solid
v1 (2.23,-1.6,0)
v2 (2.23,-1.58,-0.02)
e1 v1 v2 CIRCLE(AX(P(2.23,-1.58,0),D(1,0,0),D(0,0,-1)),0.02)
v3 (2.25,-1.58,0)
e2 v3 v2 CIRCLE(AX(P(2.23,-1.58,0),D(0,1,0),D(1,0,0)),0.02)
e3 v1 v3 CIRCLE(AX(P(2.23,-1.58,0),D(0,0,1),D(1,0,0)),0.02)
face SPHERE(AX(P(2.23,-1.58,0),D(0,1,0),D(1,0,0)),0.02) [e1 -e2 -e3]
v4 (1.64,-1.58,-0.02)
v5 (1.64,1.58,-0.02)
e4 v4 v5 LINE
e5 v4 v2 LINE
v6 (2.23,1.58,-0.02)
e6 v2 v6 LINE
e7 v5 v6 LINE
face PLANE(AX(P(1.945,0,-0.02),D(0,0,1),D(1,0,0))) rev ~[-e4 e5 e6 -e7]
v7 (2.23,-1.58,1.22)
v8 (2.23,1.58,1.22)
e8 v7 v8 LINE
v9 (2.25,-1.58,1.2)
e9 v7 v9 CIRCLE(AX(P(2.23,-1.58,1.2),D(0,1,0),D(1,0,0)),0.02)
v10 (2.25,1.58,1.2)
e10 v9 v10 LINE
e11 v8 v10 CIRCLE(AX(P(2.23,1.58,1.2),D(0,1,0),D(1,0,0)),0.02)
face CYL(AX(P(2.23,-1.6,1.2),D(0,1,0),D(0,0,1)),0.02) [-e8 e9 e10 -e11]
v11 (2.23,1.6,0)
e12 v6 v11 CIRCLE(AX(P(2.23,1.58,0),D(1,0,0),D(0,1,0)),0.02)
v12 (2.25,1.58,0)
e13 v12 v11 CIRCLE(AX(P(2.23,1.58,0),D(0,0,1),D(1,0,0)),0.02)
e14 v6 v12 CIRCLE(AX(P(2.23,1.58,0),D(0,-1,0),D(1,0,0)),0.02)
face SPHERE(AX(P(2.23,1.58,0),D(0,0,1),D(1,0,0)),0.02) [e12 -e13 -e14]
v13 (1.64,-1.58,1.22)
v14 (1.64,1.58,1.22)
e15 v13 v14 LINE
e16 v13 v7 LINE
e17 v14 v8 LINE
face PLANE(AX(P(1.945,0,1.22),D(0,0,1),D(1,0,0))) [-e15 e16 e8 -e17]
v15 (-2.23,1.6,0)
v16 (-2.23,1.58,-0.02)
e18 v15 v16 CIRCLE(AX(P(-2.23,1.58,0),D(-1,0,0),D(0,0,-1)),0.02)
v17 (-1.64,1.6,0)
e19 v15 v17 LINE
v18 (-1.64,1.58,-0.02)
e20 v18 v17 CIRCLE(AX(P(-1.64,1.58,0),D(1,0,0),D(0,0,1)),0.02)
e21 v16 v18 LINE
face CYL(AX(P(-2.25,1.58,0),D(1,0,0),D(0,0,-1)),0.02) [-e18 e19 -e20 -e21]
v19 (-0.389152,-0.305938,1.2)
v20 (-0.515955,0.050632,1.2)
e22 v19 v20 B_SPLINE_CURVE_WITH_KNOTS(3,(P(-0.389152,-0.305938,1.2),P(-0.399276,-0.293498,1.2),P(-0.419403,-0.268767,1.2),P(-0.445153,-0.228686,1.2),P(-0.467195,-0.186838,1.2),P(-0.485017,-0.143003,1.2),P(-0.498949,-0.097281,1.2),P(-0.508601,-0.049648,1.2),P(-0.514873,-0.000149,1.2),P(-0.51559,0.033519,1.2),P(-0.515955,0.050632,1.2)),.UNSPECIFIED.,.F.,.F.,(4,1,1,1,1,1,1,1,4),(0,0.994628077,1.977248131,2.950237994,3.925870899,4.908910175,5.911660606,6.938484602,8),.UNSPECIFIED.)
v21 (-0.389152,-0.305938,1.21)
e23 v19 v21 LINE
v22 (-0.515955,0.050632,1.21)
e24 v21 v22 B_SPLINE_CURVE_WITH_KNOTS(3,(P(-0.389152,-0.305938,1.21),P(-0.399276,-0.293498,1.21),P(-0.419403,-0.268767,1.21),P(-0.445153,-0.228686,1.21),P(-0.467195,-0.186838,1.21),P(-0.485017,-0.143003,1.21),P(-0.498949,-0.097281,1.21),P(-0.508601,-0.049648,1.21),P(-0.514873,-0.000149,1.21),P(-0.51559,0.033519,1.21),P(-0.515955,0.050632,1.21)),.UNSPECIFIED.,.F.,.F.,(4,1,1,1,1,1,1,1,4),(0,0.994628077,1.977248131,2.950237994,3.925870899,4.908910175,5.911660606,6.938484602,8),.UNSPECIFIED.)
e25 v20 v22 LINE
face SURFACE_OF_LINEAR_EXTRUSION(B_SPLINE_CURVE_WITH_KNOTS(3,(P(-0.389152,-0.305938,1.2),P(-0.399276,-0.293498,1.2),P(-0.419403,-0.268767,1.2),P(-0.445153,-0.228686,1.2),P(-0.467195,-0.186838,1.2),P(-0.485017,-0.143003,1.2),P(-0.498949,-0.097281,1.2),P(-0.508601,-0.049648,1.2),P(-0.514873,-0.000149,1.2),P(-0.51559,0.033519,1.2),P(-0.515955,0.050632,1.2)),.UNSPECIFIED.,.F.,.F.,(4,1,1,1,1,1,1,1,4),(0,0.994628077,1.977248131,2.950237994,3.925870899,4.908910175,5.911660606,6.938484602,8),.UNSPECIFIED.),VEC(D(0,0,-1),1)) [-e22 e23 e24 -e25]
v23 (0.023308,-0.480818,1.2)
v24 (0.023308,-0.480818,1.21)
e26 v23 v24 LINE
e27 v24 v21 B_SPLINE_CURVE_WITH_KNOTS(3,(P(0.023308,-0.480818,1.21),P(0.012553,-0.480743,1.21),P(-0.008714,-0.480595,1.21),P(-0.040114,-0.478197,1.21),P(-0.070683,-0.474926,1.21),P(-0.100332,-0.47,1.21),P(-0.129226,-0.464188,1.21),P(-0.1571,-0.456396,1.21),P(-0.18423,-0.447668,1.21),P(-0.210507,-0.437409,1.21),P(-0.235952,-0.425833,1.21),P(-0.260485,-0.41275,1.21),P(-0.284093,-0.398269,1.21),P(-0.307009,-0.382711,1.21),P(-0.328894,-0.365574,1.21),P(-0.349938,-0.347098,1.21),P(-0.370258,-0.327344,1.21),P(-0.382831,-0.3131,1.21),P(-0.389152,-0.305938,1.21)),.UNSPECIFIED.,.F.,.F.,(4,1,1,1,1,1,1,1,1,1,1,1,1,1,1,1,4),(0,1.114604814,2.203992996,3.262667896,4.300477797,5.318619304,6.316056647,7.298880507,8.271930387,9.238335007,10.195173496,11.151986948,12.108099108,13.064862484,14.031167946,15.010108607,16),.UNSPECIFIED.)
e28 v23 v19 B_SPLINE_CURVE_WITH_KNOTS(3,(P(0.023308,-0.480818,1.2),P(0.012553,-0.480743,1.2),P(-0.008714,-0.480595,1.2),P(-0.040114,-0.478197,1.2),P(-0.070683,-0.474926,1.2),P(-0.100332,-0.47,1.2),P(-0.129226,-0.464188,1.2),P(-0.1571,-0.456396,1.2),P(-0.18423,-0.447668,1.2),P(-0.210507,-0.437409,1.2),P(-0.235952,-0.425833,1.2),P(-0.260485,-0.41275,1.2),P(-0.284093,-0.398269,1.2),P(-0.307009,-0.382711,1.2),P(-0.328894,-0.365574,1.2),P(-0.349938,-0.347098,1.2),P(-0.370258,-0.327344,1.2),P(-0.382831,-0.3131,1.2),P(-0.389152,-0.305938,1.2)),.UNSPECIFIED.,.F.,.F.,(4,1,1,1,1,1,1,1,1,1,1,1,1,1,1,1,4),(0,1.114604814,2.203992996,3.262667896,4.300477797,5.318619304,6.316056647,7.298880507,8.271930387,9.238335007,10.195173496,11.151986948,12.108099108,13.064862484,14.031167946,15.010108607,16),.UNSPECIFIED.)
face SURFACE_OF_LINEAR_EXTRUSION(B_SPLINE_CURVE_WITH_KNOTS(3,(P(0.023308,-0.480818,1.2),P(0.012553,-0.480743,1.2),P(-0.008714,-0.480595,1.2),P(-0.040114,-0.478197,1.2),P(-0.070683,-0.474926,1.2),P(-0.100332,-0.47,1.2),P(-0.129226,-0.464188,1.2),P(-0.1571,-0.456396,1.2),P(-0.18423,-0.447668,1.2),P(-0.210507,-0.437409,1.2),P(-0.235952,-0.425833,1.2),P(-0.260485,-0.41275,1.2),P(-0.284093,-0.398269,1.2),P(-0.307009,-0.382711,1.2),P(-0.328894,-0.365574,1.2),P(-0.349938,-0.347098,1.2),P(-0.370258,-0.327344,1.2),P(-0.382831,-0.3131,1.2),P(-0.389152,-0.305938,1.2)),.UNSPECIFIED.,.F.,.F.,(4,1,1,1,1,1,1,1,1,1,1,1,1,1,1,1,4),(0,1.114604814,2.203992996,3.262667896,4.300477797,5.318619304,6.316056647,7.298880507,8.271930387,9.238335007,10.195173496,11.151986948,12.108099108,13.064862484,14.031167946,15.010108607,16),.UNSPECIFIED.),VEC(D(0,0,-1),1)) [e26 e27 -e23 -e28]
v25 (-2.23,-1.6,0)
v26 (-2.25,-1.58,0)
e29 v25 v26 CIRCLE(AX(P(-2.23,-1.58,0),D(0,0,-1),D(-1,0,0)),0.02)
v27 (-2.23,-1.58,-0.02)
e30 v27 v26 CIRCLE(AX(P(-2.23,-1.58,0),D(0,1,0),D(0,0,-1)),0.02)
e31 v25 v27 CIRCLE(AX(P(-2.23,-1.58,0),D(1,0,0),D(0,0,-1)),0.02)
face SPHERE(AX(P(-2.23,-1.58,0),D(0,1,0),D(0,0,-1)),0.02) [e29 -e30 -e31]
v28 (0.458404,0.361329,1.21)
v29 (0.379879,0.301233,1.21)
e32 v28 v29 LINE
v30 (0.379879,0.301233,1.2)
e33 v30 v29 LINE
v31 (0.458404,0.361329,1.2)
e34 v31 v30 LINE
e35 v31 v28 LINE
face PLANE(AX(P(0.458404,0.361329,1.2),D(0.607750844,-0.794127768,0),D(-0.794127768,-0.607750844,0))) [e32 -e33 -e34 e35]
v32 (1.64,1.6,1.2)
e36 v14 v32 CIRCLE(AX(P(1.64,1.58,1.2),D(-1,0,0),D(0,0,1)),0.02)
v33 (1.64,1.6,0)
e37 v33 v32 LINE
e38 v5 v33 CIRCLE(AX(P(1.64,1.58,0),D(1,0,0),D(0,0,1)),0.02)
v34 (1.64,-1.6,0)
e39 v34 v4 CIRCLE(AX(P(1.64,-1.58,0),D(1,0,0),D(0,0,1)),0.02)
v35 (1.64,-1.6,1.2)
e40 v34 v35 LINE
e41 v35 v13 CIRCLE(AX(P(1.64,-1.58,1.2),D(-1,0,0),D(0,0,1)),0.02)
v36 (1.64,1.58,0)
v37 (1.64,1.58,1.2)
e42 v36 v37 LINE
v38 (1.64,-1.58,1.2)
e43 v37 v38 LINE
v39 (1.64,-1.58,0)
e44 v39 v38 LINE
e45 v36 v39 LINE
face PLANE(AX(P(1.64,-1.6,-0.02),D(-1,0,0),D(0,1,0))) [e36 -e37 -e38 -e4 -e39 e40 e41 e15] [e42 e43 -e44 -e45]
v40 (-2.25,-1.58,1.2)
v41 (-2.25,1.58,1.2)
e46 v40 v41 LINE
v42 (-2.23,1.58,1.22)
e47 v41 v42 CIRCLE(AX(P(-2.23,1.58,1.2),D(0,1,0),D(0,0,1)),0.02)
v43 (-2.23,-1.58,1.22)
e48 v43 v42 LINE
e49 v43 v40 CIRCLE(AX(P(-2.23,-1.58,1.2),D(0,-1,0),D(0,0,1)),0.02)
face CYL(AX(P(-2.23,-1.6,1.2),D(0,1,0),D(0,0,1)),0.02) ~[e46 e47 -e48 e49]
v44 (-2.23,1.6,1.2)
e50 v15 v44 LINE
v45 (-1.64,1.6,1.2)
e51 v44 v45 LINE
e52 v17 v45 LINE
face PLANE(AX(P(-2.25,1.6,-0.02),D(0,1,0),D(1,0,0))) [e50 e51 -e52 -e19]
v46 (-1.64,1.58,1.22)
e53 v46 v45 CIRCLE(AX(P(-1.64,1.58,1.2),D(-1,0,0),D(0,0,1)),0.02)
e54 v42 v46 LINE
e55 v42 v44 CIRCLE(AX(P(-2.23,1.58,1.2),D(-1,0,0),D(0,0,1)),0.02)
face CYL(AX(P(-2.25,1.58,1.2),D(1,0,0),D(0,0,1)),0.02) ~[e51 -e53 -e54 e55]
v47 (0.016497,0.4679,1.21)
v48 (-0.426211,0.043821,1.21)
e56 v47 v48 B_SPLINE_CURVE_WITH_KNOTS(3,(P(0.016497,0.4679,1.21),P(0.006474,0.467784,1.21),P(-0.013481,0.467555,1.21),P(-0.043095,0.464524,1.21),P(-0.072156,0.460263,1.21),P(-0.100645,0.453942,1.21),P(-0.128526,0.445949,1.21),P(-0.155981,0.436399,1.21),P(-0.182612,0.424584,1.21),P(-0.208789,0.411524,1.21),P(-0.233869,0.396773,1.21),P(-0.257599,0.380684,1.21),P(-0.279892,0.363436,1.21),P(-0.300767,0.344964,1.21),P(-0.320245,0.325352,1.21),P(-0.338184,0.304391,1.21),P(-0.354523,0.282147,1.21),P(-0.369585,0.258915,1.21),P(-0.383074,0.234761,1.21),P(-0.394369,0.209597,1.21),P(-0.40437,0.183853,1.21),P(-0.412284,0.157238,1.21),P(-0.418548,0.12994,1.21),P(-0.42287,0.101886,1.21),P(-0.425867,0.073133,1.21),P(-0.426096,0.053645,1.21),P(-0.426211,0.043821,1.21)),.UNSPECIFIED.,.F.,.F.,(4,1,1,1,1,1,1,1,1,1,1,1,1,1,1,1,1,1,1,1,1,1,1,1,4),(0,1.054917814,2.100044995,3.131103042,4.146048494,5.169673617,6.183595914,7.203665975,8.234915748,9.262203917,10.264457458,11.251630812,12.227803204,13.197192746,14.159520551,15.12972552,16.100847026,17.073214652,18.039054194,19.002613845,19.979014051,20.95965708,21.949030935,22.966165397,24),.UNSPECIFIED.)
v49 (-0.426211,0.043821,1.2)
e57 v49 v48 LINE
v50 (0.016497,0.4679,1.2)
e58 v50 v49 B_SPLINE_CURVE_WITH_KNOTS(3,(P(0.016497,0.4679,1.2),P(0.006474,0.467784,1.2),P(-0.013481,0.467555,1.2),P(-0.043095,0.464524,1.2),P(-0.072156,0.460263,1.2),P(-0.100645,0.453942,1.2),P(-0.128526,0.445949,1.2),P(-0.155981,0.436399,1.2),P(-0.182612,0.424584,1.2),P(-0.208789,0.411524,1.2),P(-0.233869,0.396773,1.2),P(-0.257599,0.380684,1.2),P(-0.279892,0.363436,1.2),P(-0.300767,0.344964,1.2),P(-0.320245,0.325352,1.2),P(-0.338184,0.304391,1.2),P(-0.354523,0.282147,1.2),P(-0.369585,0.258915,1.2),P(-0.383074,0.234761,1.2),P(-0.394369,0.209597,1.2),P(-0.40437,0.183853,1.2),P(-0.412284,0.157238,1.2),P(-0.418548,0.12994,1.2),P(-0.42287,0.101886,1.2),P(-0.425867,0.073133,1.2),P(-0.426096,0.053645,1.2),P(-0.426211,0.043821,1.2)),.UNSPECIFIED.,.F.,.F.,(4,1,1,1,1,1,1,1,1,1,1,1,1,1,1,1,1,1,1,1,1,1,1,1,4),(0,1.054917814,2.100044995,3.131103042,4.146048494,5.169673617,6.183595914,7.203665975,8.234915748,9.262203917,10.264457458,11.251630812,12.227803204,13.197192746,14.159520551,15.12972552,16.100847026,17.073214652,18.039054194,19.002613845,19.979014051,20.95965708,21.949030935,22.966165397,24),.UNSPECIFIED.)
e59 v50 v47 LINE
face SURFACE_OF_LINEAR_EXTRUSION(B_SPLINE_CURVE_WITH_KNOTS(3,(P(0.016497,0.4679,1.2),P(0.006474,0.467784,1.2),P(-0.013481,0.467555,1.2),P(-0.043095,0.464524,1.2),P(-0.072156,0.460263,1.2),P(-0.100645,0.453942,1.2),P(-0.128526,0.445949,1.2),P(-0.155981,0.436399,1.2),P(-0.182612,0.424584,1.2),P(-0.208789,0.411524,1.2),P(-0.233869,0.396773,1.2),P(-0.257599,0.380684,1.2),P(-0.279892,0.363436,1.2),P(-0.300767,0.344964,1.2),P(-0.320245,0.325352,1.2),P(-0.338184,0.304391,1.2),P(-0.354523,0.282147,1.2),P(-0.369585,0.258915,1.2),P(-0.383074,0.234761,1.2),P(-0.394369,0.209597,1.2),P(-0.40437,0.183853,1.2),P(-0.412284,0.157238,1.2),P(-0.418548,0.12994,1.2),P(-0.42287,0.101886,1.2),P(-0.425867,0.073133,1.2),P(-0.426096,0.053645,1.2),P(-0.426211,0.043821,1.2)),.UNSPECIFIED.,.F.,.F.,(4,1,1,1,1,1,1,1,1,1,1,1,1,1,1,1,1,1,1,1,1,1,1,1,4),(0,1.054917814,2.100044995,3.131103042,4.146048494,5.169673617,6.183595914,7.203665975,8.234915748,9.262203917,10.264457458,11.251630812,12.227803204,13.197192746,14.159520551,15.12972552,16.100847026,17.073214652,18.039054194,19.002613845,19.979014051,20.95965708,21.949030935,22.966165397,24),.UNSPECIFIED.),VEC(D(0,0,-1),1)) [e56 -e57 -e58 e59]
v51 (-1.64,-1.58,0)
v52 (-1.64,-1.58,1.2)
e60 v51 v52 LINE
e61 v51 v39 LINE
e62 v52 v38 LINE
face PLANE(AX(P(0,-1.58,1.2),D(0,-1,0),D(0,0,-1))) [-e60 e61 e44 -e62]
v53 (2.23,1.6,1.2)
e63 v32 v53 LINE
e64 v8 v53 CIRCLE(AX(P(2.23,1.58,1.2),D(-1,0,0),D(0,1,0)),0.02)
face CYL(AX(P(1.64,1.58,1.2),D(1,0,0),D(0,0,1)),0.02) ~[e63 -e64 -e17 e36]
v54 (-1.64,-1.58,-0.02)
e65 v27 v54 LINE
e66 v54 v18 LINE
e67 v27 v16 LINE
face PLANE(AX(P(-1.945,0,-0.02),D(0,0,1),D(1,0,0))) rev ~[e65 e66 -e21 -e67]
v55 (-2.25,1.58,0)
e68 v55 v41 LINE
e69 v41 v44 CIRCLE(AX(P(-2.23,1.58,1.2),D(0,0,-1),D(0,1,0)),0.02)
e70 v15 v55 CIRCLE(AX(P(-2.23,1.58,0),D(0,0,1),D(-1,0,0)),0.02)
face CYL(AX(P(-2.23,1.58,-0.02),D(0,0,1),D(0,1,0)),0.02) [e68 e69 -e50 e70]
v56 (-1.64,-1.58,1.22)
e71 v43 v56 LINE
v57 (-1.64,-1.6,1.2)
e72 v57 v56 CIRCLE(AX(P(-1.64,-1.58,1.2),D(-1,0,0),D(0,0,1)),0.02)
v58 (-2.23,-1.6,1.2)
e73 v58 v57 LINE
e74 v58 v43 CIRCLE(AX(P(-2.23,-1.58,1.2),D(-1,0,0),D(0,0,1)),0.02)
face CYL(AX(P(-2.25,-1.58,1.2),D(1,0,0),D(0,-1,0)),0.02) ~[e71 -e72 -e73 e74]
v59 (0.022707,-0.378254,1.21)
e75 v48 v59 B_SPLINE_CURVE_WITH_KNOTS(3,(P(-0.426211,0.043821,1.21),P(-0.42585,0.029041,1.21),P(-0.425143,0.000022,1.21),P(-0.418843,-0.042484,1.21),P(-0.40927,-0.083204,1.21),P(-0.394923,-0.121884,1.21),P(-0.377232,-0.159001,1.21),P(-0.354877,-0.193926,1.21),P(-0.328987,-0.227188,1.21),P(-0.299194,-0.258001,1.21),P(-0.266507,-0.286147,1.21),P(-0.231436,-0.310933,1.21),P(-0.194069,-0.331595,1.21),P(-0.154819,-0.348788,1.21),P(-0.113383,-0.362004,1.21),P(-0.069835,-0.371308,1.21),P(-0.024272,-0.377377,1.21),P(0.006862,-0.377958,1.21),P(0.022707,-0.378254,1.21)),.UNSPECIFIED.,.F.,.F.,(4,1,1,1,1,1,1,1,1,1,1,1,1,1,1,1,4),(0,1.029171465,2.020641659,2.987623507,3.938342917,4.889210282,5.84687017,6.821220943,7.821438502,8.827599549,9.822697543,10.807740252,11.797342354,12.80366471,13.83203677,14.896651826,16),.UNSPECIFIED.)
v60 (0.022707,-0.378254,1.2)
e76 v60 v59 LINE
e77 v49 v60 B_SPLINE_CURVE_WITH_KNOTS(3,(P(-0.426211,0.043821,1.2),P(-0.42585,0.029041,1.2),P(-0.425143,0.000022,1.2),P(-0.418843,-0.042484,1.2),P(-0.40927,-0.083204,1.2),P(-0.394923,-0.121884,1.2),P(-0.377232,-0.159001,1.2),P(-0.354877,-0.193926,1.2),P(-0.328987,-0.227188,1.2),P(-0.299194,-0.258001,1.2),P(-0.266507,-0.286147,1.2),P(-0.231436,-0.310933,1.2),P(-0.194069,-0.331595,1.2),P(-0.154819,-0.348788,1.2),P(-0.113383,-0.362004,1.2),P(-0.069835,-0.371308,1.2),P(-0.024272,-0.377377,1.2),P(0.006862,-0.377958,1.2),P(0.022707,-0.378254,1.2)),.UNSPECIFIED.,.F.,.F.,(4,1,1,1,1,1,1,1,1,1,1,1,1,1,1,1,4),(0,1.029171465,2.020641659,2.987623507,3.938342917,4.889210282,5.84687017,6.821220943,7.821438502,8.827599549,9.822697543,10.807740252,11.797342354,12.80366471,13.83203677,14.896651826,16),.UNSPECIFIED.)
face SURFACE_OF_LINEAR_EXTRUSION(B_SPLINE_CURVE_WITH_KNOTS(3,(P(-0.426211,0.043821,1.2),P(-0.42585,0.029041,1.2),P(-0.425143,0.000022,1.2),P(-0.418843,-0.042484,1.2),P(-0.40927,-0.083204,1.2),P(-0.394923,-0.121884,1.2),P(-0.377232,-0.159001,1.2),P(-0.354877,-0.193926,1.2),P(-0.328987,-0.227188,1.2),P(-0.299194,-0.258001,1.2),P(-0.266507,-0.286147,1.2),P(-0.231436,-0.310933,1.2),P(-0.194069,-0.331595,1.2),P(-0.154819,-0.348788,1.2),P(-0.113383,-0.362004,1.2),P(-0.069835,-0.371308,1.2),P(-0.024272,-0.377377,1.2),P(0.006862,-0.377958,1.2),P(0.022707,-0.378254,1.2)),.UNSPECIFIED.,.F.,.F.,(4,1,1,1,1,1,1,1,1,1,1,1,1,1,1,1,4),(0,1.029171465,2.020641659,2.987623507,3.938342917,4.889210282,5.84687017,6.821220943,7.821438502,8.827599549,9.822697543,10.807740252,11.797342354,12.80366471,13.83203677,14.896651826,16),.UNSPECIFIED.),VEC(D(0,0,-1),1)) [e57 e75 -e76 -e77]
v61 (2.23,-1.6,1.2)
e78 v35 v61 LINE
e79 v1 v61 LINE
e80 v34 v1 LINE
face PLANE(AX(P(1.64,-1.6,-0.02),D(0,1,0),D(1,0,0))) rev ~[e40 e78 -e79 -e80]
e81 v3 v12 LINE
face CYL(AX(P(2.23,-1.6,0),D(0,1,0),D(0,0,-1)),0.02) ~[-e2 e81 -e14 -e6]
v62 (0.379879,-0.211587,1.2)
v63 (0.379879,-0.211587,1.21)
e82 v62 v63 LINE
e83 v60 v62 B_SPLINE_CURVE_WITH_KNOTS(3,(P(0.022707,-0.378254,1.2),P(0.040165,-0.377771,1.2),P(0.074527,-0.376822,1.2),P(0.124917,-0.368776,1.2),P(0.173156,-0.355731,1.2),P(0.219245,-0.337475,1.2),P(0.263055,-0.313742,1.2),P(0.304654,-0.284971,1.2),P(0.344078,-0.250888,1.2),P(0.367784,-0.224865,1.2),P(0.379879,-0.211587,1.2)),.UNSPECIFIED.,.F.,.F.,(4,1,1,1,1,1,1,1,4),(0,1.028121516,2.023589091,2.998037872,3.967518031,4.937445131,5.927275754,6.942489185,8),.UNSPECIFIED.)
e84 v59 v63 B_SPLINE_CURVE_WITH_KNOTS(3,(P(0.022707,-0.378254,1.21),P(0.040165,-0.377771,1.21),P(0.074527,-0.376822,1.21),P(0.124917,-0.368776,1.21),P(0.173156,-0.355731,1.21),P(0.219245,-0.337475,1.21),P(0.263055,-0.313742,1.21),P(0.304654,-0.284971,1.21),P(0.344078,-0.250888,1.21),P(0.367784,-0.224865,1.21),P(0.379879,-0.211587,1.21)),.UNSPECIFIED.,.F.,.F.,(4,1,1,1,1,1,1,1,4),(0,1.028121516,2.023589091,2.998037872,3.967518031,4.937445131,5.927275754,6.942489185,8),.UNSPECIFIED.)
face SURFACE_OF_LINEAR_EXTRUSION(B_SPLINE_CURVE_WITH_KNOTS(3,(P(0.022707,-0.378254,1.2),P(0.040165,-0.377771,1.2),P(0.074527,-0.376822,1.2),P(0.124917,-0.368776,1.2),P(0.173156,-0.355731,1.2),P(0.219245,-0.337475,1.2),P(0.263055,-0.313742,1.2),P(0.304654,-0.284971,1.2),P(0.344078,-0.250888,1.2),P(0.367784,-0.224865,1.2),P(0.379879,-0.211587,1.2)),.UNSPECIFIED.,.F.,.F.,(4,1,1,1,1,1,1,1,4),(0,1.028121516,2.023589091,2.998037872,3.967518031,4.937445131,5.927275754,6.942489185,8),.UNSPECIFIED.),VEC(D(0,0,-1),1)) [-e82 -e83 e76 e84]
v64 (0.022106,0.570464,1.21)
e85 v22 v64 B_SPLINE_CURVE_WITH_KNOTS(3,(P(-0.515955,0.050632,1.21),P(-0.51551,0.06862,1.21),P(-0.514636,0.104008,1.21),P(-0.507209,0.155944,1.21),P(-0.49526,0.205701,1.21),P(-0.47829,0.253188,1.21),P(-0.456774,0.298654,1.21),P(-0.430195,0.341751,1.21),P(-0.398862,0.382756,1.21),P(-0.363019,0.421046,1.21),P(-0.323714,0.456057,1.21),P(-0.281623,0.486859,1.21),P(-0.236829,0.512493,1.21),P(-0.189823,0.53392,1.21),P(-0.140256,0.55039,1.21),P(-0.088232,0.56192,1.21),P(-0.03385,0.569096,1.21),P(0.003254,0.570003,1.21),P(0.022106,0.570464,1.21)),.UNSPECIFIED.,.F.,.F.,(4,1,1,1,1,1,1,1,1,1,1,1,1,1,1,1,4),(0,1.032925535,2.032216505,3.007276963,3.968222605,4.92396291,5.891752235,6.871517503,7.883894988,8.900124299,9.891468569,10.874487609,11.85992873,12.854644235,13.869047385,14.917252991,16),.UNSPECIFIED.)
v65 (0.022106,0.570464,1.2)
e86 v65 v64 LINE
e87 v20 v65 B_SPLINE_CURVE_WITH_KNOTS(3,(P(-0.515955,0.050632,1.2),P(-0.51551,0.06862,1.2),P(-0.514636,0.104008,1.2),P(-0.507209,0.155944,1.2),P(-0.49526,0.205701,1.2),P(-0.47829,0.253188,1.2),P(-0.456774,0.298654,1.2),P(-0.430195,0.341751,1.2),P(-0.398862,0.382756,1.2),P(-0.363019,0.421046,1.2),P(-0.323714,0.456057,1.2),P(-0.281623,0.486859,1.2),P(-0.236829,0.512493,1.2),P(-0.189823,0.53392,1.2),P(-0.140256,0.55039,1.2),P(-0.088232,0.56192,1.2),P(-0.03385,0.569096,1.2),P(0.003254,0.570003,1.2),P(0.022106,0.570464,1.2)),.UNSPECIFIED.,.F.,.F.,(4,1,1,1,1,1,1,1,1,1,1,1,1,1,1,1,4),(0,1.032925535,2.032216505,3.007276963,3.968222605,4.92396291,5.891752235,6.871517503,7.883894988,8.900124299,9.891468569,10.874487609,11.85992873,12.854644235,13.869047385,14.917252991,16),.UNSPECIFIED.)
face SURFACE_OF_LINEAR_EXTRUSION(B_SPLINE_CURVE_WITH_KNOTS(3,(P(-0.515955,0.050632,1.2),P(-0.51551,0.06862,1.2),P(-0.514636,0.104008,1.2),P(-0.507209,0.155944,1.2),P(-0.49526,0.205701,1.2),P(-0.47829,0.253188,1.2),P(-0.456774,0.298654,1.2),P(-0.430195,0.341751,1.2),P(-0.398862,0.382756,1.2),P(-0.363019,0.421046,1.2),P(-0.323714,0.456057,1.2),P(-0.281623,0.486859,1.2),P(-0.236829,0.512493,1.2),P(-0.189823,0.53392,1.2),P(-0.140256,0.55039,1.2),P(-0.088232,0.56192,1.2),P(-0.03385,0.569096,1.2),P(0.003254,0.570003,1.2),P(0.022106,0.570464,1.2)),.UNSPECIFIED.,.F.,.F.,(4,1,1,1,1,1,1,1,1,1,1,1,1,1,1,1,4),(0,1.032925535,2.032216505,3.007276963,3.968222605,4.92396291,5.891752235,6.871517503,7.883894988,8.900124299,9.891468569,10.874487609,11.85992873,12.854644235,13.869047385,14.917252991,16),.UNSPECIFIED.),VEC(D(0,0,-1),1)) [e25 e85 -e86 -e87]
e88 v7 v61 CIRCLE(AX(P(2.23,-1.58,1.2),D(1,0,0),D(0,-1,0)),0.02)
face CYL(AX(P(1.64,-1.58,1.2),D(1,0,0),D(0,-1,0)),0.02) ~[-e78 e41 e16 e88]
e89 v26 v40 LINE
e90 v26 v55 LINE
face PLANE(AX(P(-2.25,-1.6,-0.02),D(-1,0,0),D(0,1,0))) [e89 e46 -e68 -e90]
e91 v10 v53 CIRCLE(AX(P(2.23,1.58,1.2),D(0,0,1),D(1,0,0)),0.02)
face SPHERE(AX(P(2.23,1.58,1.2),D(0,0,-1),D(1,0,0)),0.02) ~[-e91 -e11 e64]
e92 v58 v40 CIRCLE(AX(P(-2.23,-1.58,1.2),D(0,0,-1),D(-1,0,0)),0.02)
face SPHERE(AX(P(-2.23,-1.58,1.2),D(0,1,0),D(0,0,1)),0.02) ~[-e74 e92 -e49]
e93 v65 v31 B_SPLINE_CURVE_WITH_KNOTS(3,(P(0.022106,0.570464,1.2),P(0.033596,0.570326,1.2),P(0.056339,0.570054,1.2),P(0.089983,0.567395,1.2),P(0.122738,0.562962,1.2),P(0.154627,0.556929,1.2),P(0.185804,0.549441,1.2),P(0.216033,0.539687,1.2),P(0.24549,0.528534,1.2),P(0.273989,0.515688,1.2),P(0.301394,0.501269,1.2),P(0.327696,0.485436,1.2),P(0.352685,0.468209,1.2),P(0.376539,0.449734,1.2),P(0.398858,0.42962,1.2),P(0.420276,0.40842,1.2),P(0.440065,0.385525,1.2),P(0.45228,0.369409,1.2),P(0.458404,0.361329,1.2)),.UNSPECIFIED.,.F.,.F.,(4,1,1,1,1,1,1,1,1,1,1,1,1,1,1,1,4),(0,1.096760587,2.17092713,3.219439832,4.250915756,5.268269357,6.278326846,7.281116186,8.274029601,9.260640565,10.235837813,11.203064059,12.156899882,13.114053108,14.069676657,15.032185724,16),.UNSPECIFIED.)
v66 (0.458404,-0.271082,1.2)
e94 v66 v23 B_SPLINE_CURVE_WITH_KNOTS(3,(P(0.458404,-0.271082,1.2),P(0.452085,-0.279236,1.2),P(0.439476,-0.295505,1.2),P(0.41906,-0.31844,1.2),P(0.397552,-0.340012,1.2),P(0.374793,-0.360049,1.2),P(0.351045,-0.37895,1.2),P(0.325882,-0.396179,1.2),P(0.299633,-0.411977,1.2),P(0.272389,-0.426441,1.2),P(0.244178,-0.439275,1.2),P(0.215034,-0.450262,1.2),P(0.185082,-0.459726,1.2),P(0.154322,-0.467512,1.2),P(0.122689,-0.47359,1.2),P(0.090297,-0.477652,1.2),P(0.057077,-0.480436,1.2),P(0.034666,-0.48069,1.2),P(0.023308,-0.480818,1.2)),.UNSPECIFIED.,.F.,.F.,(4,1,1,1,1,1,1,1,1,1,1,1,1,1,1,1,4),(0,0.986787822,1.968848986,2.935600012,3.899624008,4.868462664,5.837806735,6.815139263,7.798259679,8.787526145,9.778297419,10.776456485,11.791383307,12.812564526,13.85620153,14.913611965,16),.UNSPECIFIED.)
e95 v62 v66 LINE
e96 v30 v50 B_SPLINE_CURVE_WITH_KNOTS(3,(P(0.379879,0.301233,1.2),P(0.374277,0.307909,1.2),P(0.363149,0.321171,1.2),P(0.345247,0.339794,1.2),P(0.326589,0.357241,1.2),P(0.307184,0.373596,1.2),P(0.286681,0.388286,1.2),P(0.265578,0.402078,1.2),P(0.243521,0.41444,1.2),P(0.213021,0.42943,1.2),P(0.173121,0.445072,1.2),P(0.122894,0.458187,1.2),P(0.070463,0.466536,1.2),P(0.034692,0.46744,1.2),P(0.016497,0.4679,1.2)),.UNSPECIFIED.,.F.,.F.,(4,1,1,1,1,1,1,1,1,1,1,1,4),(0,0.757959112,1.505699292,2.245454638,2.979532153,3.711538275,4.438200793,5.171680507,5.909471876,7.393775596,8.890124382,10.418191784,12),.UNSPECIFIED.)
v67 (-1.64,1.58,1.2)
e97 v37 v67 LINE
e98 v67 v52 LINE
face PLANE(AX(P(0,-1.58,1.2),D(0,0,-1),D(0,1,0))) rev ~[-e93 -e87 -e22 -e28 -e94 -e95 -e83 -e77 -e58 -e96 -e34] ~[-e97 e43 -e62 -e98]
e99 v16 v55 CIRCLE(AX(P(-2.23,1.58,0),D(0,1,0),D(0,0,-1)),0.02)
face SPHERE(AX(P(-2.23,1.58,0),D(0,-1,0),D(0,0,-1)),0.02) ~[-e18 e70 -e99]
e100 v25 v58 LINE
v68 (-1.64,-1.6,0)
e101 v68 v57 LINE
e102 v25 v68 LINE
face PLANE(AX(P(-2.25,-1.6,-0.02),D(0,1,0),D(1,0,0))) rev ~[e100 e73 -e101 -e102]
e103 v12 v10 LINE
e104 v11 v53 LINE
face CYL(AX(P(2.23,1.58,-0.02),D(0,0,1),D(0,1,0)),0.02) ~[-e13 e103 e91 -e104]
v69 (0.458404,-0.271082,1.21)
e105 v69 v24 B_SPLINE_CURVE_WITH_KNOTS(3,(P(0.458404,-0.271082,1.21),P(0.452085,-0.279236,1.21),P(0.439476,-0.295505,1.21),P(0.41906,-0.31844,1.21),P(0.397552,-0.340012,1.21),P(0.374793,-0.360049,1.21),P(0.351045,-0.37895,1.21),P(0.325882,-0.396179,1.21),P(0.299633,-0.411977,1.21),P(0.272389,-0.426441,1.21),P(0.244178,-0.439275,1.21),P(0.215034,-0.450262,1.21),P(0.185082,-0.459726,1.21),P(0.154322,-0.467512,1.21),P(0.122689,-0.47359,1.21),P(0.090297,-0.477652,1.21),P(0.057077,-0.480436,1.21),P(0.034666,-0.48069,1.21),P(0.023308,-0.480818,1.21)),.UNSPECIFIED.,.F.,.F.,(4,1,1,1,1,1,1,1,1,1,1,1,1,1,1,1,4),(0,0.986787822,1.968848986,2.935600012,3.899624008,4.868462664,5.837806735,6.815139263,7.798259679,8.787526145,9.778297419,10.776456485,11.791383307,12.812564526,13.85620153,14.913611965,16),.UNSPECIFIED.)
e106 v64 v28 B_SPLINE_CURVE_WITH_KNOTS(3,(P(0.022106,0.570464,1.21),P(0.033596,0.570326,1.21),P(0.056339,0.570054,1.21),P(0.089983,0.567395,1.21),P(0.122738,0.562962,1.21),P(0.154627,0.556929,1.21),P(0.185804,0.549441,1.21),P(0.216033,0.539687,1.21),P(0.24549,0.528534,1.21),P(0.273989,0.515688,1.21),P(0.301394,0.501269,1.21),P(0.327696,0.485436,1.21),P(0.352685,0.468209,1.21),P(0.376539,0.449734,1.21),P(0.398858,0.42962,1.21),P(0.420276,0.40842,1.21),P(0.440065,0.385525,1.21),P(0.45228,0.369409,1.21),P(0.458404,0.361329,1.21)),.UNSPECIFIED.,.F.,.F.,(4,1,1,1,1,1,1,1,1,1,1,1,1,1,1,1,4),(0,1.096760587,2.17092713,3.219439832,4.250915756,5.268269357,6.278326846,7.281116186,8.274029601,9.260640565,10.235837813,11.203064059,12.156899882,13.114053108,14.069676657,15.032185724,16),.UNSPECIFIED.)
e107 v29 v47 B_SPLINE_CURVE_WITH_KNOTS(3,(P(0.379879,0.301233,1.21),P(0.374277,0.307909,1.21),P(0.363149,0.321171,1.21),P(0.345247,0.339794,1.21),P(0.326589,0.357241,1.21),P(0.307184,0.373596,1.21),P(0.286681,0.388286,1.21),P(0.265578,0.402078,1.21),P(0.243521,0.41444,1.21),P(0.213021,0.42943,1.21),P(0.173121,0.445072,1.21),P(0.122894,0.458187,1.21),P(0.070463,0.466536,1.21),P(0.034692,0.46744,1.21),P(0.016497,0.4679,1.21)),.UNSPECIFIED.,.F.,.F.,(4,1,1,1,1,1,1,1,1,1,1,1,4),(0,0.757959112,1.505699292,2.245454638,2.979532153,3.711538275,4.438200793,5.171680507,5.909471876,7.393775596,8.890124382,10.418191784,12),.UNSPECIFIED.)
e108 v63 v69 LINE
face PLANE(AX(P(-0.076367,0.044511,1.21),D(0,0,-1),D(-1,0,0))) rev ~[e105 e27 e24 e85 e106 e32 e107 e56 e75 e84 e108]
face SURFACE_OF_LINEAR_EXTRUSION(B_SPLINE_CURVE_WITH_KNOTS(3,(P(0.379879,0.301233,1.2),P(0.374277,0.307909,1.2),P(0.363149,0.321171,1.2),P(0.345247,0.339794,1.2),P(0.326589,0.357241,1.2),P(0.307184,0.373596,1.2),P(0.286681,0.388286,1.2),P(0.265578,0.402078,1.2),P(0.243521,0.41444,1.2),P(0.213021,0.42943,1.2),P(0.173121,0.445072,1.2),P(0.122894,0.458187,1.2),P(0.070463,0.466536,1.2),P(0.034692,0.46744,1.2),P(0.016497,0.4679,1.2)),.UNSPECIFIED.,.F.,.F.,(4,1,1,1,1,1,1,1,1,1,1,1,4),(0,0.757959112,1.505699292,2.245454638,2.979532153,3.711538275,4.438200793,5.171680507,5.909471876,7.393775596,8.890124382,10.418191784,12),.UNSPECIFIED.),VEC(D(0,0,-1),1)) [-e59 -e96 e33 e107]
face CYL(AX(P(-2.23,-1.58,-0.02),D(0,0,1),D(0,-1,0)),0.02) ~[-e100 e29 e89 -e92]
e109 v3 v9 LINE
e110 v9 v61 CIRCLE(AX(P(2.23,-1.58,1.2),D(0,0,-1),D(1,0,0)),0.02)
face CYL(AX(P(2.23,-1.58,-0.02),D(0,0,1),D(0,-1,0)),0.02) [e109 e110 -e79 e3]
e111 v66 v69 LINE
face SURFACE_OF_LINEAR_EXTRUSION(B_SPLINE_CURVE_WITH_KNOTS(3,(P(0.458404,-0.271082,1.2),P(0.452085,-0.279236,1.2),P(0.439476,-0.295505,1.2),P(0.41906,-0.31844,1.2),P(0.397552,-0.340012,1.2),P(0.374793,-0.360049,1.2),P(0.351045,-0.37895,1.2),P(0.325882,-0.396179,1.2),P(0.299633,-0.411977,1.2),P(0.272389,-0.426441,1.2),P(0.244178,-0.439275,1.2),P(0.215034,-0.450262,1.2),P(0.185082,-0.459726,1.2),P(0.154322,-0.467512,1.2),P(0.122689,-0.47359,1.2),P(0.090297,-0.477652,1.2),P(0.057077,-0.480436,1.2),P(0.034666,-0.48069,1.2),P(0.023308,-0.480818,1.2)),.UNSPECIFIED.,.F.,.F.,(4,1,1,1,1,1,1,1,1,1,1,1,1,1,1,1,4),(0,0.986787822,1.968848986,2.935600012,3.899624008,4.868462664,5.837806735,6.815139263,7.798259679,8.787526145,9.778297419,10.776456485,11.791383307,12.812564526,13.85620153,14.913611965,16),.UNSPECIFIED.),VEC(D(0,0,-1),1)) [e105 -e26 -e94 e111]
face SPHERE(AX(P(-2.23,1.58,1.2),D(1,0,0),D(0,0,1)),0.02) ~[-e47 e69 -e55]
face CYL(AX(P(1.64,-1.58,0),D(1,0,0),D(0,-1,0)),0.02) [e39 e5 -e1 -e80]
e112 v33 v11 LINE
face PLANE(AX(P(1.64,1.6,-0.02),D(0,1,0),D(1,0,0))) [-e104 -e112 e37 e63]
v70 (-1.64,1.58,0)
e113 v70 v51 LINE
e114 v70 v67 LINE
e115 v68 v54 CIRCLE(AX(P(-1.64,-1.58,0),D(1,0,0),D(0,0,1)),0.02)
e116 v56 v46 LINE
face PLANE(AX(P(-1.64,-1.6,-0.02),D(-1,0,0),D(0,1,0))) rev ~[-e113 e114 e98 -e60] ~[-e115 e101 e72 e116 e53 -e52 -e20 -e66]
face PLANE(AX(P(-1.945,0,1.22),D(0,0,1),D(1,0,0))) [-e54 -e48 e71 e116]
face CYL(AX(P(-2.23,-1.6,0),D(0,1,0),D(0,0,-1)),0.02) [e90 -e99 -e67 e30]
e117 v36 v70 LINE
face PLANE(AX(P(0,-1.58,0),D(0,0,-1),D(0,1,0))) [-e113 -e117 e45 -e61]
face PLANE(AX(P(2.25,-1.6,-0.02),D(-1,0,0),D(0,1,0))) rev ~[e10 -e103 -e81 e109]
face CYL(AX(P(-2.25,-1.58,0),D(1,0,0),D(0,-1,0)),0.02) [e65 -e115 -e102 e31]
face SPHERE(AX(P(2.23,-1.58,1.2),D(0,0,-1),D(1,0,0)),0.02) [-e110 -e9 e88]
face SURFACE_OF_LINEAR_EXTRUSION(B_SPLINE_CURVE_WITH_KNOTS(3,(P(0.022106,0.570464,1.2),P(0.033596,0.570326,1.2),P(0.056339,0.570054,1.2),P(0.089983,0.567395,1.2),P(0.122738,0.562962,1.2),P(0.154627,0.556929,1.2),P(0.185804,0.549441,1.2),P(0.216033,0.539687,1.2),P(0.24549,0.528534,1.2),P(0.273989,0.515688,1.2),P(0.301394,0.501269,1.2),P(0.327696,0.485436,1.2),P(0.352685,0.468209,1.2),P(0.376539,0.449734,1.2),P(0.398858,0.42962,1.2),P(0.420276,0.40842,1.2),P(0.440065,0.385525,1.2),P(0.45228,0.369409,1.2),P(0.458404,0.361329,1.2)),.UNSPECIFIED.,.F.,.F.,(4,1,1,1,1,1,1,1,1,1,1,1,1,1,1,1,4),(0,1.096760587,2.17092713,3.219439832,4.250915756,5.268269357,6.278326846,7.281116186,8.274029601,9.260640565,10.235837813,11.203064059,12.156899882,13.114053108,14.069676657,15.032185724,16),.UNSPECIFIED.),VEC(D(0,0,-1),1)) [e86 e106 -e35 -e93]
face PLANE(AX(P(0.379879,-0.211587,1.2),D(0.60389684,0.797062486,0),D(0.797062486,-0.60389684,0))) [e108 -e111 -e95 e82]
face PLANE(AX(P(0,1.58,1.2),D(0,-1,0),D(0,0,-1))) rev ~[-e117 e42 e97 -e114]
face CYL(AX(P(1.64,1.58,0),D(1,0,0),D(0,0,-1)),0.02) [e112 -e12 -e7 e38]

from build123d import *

# Parameters (mm, degrees)
EXTRUDE_1_DEPTH        = 1.22
EXTRUDE_1_DEPTH_BACK   = 0.02
SKETCH_3_W             = 0.61
SKETCH_3_H             = 3.2
EXTRUDE_1_2_DEPTH      = 1.22
EXTRUDE_1_2_DEPTH_BACK = 0.02
SKETCH_5_W             = 1.2
SKETCH_5_H             = 3.16
EXTRUDE_3_DEPTH        = 1.66
FILLET_3_R             = 0.02
EXTRUDE_4_DEPTH        = 0.01


with BuildPart() as part:
    # 草图3 → 凸台-拉伸1 (new, two sides: drawn at the far end of the back side and taken through both)
    with BuildSketch(Plane.XY.offset(-EXTRUDE_1_DEPTH_BACK)):
        with Locations((-1.945, 0)):
            Rectangle(SKETCH_3_W, SKETCH_3_H)
    extrude(amount=EXTRUDE_1_DEPTH + EXTRUDE_1_DEPTH_BACK)



with BuildPart() as body_2:
    # 草图3 → Extrude 1 2 (new, two sides: drawn at the far end of the back side and taken through both)
    with BuildSketch(Plane.XY.offset(-EXTRUDE_1_2_DEPTH_BACK)):
        with Locations((1.945, 0)):
            Rectangle(SKETCH_3_W, SKETCH_3_H)
    extrude(amount=EXTRUDE_1_2_DEPTH + EXTRUDE_1_2_DEPTH_BACK)


with BuildPart() as part_1:
    add(part.part)

    add(body_2.part)  # 凸台-拉伸3 merges body 2
    # 草图5 → 凸台-拉伸3 (add, symmetric)
    with BuildSketch(Plane(origin=(0, 0, 0), x_dir=(0, 0, -1), z_dir=(1, 0, 0))):
        with Locations((-0.6, 0)):
            Rectangle(SKETCH_5_W, SKETCH_5_H)
    extrude(amount=EXTRUDE_3_DEPTH, both=True)

    # 圆角3
    fillet_3_edges = [part_1.edges().sort_by_distance(p)[0] for p in [
        (-2.25, 0, -0.02),
        (-1.945, 1.6, 1.22),
        (-1.945, -1.6, -0.02),
        (-2.25, 0, 1.22),
        (-1.945, -1.6, 1.22),
        (2.25, 1.6, 0.6),
        (2.25, 0, -0.02),
        (2.25, -1.6, 0.6),
        (1.945, -1.6, -0.02),
        (1.945, 1.6, -0.02),
        (2.25, 0, 1.22),
        (1.945, 1.6, 1.22),
        (1.945, -1.6, 1.22),
        (-1.945, 1.6, -0.02),
        (-2.25, -1.6, 0.6),
        (-2.25, 1.6, 0.6),
    ]]
    fillet(fillet_3_edges, radius=FILLET_3_R)

    # 草图6 → 凸台-拉伸4 (add)
    with BuildSketch(Plane.XY.offset(1.2)):
        with BuildLine():
            Line((0.458404382, 0.361329361), (0.379878741, 0.301233207))
            add(Edge.make_bspline(
                [(0.379878741, 0.301233207), (0.374277059, 0.307909199), (0.363149217, 0.321171175), (0.345246588, 0.339793902), (0.326588975, 0.357241119), (0.307183512, 0.373595942), (0.286680907, 0.388286446), (0.265577821, 0.40207819), (0.243521237, 0.414440401), (0.213020741, 0.429429826), (0.173121356, 0.445071584), (0.122894259, 0.458186793), (0.070462517, 0.4665357), (0.034691774, 0.467439941), (0.016497331, 0.467899874)],
                knots=[0, 0, 0, 0, 0.757959112, 1.505699292, 2.245454638, 2.979532153, 3.711538275, 4.438200793, 5.171680507, 5.909471876, 7.393775596, 8.890124382, 10.418191784, 12, 12, 12, 12], degree=3))
            add(Edge.make_bspline(
                [(0.016497331, 0.467899874), (0.006473531, 0.467784456), (-0.013481038, 0.467554692), (-0.043094888, 0.464523513), (-0.072155759, 0.460263167), (-0.10064475, 0.453941646), (-0.128525595, 0.445949469), (-0.155980567, 0.436399351), (-0.182612167, 0.424583683), (-0.208788806, 0.41152418), (-0.233868581, 0.396773481), (-0.257598595, 0.380683952), (-0.2798923, 0.363435639), (-0.300767332, 0.344963894), (-0.320245031, 0.325351906), (-0.338184263, 0.304390665), (-0.354522952, 0.282147187), (-0.369584959, 0.258914785), (-0.383074311, 0.23476113), (-0.394368562, 0.209596824), (-0.404370026, 0.183852795), (-0.412284095, 0.157238177), (-0.418548243, 0.129940244), (-0.422870432, 0.101885733), (-0.425867138, 0.073133254), (-0.42609576, 0.053644879), (-0.426211002, 0.043821348)],
                knots=[0, 0, 0, 0, 1.054917814, 2.100044995, 3.131103042, 4.146048494, 5.169673617, 6.183595914, 7.203665975, 8.234915748, 9.262203917, 10.264457458, 11.251630812, 12.227803204, 13.197192746, 14.159520551, 15.12972552, 16.100847026, 17.073214652, 18.039054194, 19.002613845, 19.979014051, 20.95965708, 21.949030935, 22.966165397, 24, 24, 24, 24], degree=3))
            add(Edge.make_bspline(
                [(-0.426211002, 0.043821348), (-0.425850483, 0.029040971), (-0.42514265, 2.1661e-05), (-0.418843126, -0.042484227), (-0.409270243, -0.08320442), (-0.394922935, -0.121884375), (-0.377231778, -0.159001049), (-0.354877317, -0.193926435), (-0.328986878, -0.227188311), (-0.299194187, -0.258000582), (-0.266506811, -0.28614736), (-0.231435979, -0.310933241), (-0.194069039, -0.331594636), (-0.154818574, -0.348787763), (-0.113382541, -0.362003971), (-0.069835455, -0.371308006), (-0.024272027, -0.377377201), (0.006862087, -0.377958255), (0.022707267, -0.378253972)],
                knots=[0, 0, 0, 0, 1.029171465, 2.020641659, 2.987623507, 3.938342917, 4.889210282, 5.84687017, 6.821220943, 7.821438502, 8.827599549, 9.822697543, 10.807740252, 11.797342354, 12.80366471, 13.83203677, 14.896651826, 16, 16, 16, 16], degree=3))
            add(Edge.make_bspline(
                [(0.022707267, -0.378253972), (0.040165178, -0.377771464), (0.074526524, -0.376821771), (0.124917388, -0.368776272), (0.173156178, -0.355731152), (0.219245489, -0.337474603), (0.263055388, -0.313741664), (0.304654434, -0.284970842), (0.344077739, -0.250888461), (0.36778382, -0.22486471), (0.379878741, -0.211587305)],
                knots=[0, 0, 0, 0, 1.028121516, 2.023589091, 2.998037872, 3.967518031, 4.937445131, 5.927275754, 6.942489185, 8, 8, 8, 8], degree=3))
            Line((0.379878741, -0.211587305), (0.458404382, -0.271082498))
            add(Edge.make_bspline(
                [(0.458404382, -0.271082498), (0.452084922, -0.279236341), (0.439476272, -0.295504972), (0.419059696, -0.318439746), (0.397551897, -0.340012327), (0.374793123, -0.360048791), (0.351045182, -0.378950066), (0.325881664, -0.396179161), (0.299633369, -0.411976557), (0.272389232, -0.426441392), (0.2441782, -0.439274891), (0.215034076, -0.450261682), (0.185082483, -0.459725936), (0.154322052, -0.467512204), (0.122688979, -0.473589656), (0.090297415, -0.477652421), (0.05707745, -0.480435825), (0.034665616, -0.480689515), (0.023308229, -0.480818075)],
                knots=[0, 0, 0, 0, 0.986787822, 1.968848986, 2.935600012, 3.899624008, 4.868462664, 5.837806735, 6.815139263, 7.798259679, 8.787526145, 9.778297419, 10.776456485, 11.791383307, 12.812564526, 13.85620153, 14.913611965, 16, 16, 16, 16], degree=3))
            add(Edge.make_bspline(
                [(0.023308229, -0.480818075), (0.012552895, -0.48074322), (-0.008714445, -0.480595203), (-0.040114088, -0.478197441), (-0.07068254, -0.474926088), (-0.100332433, -0.470000336), (-0.129225569, -0.464187667), (-0.157100021, -0.45639588), (-0.184230082, -0.447667546), (-0.21050675, -0.437408979), (-0.235952379, -0.425832927), (-0.260484896, -0.412749624), (-0.28409302, -0.398269091), (-0.307008854, -0.382710517), (-0.328893878, -0.365574145), (-0.349937743, -0.347097964), (-0.37025845, -0.327344246), (-0.382830646, -0.313100002), (-0.389151707, -0.305938267)],
                knots=[0, 0, 0, 0, 1.114604814, 2.203992996, 3.262667896, 4.300477797, 5.318619304, 6.316056647, 7.298880507, 8.271930387, 9.238335007, 10.195173496, 11.151986948, 12.108099108, 13.064862484, 14.031167946, 15.010108607, 16, 16, 16, 16], degree=3))
            add(Edge.make_bspline(
                [(-0.389151707, -0.305938267), (-0.399276177, -0.293497927), (-0.419402885, -0.268767439), (-0.44515308, -0.22868573), (-0.467195239, -0.18683767), (-0.48501693, -0.143003405), (-0.49894914, -0.097281294), (-0.50860091, -0.04964829), (-0.514872797, -0.000148878), (-0.515590022, 0.033518776), (-0.515954592, 0.050632246)],
                knots=[0, 0, 0, 0, 0.994628077, 1.977248131, 2.950237994, 3.925870899, 4.908910175, 5.911660606, 6.938484602, 8, 8, 8, 8], degree=3))
            add(Edge.make_bspline(
                [(-0.515954592, 0.050632246), (-0.515510251, 0.068619518), (-0.514636038, 0.104008354), (-0.507208668, 0.155943769), (-0.49526044, 0.205701312), (-0.478289901, 0.253188096), (-0.456774086, 0.29865389), (-0.430195053, 0.341751377), (-0.398861584, 0.382756177), (-0.363019422, 0.421046106), (-0.323714469, 0.45605735), (-0.281623379, 0.486859122), (-0.236828537, 0.512492698), (-0.189823437, 0.533920173), (-0.140256099, 0.55039002), (-0.08823228, 0.561919502), (-0.033849732, 0.569095821), (0.003253818, 0.570003023), (0.022106305, 0.570463977)],
                knots=[0, 0, 0, 0, 1.032925535, 2.032216505, 3.007276963, 3.968222605, 4.92396291, 5.891752235, 6.871517503, 7.883894988, 8.900124299, 9.891468569, 10.874487609, 11.85992873, 12.854644235, 13.869047385, 14.917252991, 16, 16, 16, 16], degree=3))
            add(Edge.make_bspline(
                [(0.022106305, 0.570463977), (0.033596155, 0.570326223), (0.056339154, 0.570053553), (0.089982769, 0.567394655), (0.122737719, 0.562962196), (0.154626571, 0.556929034), (0.185804462, 0.549441228), (0.216033102, 0.539686857), (0.24548987, 0.528533562), (0.273988986, 0.515688286), (0.301393715, 0.501269217), (0.32769552, 0.485436182), (0.35268548, 0.468208809), (0.376539436, 0.449733616), (0.398858354, 0.429619742), (0.420275919, 0.408420428), (0.440064799, 0.38552505), (0.452279997, 0.369409355), (0.458404382, 0.361329361)],
                knots=[0, 0, 0, 0, 1.096760587, 2.17092713, 3.219439832, 4.250915756, 5.268269357, 6.278326846, 7.281116186, 8.274029601, 9.260640565, 10.235837813, 11.203064059, 12.156899882, 13.114053108, 14.069676657, 15.032185724, 16, 16, 16, 16], degree=3))
        make_face()
    extrude(amount=EXTRUDE_4_DEPTH)


solid = part_1.part
